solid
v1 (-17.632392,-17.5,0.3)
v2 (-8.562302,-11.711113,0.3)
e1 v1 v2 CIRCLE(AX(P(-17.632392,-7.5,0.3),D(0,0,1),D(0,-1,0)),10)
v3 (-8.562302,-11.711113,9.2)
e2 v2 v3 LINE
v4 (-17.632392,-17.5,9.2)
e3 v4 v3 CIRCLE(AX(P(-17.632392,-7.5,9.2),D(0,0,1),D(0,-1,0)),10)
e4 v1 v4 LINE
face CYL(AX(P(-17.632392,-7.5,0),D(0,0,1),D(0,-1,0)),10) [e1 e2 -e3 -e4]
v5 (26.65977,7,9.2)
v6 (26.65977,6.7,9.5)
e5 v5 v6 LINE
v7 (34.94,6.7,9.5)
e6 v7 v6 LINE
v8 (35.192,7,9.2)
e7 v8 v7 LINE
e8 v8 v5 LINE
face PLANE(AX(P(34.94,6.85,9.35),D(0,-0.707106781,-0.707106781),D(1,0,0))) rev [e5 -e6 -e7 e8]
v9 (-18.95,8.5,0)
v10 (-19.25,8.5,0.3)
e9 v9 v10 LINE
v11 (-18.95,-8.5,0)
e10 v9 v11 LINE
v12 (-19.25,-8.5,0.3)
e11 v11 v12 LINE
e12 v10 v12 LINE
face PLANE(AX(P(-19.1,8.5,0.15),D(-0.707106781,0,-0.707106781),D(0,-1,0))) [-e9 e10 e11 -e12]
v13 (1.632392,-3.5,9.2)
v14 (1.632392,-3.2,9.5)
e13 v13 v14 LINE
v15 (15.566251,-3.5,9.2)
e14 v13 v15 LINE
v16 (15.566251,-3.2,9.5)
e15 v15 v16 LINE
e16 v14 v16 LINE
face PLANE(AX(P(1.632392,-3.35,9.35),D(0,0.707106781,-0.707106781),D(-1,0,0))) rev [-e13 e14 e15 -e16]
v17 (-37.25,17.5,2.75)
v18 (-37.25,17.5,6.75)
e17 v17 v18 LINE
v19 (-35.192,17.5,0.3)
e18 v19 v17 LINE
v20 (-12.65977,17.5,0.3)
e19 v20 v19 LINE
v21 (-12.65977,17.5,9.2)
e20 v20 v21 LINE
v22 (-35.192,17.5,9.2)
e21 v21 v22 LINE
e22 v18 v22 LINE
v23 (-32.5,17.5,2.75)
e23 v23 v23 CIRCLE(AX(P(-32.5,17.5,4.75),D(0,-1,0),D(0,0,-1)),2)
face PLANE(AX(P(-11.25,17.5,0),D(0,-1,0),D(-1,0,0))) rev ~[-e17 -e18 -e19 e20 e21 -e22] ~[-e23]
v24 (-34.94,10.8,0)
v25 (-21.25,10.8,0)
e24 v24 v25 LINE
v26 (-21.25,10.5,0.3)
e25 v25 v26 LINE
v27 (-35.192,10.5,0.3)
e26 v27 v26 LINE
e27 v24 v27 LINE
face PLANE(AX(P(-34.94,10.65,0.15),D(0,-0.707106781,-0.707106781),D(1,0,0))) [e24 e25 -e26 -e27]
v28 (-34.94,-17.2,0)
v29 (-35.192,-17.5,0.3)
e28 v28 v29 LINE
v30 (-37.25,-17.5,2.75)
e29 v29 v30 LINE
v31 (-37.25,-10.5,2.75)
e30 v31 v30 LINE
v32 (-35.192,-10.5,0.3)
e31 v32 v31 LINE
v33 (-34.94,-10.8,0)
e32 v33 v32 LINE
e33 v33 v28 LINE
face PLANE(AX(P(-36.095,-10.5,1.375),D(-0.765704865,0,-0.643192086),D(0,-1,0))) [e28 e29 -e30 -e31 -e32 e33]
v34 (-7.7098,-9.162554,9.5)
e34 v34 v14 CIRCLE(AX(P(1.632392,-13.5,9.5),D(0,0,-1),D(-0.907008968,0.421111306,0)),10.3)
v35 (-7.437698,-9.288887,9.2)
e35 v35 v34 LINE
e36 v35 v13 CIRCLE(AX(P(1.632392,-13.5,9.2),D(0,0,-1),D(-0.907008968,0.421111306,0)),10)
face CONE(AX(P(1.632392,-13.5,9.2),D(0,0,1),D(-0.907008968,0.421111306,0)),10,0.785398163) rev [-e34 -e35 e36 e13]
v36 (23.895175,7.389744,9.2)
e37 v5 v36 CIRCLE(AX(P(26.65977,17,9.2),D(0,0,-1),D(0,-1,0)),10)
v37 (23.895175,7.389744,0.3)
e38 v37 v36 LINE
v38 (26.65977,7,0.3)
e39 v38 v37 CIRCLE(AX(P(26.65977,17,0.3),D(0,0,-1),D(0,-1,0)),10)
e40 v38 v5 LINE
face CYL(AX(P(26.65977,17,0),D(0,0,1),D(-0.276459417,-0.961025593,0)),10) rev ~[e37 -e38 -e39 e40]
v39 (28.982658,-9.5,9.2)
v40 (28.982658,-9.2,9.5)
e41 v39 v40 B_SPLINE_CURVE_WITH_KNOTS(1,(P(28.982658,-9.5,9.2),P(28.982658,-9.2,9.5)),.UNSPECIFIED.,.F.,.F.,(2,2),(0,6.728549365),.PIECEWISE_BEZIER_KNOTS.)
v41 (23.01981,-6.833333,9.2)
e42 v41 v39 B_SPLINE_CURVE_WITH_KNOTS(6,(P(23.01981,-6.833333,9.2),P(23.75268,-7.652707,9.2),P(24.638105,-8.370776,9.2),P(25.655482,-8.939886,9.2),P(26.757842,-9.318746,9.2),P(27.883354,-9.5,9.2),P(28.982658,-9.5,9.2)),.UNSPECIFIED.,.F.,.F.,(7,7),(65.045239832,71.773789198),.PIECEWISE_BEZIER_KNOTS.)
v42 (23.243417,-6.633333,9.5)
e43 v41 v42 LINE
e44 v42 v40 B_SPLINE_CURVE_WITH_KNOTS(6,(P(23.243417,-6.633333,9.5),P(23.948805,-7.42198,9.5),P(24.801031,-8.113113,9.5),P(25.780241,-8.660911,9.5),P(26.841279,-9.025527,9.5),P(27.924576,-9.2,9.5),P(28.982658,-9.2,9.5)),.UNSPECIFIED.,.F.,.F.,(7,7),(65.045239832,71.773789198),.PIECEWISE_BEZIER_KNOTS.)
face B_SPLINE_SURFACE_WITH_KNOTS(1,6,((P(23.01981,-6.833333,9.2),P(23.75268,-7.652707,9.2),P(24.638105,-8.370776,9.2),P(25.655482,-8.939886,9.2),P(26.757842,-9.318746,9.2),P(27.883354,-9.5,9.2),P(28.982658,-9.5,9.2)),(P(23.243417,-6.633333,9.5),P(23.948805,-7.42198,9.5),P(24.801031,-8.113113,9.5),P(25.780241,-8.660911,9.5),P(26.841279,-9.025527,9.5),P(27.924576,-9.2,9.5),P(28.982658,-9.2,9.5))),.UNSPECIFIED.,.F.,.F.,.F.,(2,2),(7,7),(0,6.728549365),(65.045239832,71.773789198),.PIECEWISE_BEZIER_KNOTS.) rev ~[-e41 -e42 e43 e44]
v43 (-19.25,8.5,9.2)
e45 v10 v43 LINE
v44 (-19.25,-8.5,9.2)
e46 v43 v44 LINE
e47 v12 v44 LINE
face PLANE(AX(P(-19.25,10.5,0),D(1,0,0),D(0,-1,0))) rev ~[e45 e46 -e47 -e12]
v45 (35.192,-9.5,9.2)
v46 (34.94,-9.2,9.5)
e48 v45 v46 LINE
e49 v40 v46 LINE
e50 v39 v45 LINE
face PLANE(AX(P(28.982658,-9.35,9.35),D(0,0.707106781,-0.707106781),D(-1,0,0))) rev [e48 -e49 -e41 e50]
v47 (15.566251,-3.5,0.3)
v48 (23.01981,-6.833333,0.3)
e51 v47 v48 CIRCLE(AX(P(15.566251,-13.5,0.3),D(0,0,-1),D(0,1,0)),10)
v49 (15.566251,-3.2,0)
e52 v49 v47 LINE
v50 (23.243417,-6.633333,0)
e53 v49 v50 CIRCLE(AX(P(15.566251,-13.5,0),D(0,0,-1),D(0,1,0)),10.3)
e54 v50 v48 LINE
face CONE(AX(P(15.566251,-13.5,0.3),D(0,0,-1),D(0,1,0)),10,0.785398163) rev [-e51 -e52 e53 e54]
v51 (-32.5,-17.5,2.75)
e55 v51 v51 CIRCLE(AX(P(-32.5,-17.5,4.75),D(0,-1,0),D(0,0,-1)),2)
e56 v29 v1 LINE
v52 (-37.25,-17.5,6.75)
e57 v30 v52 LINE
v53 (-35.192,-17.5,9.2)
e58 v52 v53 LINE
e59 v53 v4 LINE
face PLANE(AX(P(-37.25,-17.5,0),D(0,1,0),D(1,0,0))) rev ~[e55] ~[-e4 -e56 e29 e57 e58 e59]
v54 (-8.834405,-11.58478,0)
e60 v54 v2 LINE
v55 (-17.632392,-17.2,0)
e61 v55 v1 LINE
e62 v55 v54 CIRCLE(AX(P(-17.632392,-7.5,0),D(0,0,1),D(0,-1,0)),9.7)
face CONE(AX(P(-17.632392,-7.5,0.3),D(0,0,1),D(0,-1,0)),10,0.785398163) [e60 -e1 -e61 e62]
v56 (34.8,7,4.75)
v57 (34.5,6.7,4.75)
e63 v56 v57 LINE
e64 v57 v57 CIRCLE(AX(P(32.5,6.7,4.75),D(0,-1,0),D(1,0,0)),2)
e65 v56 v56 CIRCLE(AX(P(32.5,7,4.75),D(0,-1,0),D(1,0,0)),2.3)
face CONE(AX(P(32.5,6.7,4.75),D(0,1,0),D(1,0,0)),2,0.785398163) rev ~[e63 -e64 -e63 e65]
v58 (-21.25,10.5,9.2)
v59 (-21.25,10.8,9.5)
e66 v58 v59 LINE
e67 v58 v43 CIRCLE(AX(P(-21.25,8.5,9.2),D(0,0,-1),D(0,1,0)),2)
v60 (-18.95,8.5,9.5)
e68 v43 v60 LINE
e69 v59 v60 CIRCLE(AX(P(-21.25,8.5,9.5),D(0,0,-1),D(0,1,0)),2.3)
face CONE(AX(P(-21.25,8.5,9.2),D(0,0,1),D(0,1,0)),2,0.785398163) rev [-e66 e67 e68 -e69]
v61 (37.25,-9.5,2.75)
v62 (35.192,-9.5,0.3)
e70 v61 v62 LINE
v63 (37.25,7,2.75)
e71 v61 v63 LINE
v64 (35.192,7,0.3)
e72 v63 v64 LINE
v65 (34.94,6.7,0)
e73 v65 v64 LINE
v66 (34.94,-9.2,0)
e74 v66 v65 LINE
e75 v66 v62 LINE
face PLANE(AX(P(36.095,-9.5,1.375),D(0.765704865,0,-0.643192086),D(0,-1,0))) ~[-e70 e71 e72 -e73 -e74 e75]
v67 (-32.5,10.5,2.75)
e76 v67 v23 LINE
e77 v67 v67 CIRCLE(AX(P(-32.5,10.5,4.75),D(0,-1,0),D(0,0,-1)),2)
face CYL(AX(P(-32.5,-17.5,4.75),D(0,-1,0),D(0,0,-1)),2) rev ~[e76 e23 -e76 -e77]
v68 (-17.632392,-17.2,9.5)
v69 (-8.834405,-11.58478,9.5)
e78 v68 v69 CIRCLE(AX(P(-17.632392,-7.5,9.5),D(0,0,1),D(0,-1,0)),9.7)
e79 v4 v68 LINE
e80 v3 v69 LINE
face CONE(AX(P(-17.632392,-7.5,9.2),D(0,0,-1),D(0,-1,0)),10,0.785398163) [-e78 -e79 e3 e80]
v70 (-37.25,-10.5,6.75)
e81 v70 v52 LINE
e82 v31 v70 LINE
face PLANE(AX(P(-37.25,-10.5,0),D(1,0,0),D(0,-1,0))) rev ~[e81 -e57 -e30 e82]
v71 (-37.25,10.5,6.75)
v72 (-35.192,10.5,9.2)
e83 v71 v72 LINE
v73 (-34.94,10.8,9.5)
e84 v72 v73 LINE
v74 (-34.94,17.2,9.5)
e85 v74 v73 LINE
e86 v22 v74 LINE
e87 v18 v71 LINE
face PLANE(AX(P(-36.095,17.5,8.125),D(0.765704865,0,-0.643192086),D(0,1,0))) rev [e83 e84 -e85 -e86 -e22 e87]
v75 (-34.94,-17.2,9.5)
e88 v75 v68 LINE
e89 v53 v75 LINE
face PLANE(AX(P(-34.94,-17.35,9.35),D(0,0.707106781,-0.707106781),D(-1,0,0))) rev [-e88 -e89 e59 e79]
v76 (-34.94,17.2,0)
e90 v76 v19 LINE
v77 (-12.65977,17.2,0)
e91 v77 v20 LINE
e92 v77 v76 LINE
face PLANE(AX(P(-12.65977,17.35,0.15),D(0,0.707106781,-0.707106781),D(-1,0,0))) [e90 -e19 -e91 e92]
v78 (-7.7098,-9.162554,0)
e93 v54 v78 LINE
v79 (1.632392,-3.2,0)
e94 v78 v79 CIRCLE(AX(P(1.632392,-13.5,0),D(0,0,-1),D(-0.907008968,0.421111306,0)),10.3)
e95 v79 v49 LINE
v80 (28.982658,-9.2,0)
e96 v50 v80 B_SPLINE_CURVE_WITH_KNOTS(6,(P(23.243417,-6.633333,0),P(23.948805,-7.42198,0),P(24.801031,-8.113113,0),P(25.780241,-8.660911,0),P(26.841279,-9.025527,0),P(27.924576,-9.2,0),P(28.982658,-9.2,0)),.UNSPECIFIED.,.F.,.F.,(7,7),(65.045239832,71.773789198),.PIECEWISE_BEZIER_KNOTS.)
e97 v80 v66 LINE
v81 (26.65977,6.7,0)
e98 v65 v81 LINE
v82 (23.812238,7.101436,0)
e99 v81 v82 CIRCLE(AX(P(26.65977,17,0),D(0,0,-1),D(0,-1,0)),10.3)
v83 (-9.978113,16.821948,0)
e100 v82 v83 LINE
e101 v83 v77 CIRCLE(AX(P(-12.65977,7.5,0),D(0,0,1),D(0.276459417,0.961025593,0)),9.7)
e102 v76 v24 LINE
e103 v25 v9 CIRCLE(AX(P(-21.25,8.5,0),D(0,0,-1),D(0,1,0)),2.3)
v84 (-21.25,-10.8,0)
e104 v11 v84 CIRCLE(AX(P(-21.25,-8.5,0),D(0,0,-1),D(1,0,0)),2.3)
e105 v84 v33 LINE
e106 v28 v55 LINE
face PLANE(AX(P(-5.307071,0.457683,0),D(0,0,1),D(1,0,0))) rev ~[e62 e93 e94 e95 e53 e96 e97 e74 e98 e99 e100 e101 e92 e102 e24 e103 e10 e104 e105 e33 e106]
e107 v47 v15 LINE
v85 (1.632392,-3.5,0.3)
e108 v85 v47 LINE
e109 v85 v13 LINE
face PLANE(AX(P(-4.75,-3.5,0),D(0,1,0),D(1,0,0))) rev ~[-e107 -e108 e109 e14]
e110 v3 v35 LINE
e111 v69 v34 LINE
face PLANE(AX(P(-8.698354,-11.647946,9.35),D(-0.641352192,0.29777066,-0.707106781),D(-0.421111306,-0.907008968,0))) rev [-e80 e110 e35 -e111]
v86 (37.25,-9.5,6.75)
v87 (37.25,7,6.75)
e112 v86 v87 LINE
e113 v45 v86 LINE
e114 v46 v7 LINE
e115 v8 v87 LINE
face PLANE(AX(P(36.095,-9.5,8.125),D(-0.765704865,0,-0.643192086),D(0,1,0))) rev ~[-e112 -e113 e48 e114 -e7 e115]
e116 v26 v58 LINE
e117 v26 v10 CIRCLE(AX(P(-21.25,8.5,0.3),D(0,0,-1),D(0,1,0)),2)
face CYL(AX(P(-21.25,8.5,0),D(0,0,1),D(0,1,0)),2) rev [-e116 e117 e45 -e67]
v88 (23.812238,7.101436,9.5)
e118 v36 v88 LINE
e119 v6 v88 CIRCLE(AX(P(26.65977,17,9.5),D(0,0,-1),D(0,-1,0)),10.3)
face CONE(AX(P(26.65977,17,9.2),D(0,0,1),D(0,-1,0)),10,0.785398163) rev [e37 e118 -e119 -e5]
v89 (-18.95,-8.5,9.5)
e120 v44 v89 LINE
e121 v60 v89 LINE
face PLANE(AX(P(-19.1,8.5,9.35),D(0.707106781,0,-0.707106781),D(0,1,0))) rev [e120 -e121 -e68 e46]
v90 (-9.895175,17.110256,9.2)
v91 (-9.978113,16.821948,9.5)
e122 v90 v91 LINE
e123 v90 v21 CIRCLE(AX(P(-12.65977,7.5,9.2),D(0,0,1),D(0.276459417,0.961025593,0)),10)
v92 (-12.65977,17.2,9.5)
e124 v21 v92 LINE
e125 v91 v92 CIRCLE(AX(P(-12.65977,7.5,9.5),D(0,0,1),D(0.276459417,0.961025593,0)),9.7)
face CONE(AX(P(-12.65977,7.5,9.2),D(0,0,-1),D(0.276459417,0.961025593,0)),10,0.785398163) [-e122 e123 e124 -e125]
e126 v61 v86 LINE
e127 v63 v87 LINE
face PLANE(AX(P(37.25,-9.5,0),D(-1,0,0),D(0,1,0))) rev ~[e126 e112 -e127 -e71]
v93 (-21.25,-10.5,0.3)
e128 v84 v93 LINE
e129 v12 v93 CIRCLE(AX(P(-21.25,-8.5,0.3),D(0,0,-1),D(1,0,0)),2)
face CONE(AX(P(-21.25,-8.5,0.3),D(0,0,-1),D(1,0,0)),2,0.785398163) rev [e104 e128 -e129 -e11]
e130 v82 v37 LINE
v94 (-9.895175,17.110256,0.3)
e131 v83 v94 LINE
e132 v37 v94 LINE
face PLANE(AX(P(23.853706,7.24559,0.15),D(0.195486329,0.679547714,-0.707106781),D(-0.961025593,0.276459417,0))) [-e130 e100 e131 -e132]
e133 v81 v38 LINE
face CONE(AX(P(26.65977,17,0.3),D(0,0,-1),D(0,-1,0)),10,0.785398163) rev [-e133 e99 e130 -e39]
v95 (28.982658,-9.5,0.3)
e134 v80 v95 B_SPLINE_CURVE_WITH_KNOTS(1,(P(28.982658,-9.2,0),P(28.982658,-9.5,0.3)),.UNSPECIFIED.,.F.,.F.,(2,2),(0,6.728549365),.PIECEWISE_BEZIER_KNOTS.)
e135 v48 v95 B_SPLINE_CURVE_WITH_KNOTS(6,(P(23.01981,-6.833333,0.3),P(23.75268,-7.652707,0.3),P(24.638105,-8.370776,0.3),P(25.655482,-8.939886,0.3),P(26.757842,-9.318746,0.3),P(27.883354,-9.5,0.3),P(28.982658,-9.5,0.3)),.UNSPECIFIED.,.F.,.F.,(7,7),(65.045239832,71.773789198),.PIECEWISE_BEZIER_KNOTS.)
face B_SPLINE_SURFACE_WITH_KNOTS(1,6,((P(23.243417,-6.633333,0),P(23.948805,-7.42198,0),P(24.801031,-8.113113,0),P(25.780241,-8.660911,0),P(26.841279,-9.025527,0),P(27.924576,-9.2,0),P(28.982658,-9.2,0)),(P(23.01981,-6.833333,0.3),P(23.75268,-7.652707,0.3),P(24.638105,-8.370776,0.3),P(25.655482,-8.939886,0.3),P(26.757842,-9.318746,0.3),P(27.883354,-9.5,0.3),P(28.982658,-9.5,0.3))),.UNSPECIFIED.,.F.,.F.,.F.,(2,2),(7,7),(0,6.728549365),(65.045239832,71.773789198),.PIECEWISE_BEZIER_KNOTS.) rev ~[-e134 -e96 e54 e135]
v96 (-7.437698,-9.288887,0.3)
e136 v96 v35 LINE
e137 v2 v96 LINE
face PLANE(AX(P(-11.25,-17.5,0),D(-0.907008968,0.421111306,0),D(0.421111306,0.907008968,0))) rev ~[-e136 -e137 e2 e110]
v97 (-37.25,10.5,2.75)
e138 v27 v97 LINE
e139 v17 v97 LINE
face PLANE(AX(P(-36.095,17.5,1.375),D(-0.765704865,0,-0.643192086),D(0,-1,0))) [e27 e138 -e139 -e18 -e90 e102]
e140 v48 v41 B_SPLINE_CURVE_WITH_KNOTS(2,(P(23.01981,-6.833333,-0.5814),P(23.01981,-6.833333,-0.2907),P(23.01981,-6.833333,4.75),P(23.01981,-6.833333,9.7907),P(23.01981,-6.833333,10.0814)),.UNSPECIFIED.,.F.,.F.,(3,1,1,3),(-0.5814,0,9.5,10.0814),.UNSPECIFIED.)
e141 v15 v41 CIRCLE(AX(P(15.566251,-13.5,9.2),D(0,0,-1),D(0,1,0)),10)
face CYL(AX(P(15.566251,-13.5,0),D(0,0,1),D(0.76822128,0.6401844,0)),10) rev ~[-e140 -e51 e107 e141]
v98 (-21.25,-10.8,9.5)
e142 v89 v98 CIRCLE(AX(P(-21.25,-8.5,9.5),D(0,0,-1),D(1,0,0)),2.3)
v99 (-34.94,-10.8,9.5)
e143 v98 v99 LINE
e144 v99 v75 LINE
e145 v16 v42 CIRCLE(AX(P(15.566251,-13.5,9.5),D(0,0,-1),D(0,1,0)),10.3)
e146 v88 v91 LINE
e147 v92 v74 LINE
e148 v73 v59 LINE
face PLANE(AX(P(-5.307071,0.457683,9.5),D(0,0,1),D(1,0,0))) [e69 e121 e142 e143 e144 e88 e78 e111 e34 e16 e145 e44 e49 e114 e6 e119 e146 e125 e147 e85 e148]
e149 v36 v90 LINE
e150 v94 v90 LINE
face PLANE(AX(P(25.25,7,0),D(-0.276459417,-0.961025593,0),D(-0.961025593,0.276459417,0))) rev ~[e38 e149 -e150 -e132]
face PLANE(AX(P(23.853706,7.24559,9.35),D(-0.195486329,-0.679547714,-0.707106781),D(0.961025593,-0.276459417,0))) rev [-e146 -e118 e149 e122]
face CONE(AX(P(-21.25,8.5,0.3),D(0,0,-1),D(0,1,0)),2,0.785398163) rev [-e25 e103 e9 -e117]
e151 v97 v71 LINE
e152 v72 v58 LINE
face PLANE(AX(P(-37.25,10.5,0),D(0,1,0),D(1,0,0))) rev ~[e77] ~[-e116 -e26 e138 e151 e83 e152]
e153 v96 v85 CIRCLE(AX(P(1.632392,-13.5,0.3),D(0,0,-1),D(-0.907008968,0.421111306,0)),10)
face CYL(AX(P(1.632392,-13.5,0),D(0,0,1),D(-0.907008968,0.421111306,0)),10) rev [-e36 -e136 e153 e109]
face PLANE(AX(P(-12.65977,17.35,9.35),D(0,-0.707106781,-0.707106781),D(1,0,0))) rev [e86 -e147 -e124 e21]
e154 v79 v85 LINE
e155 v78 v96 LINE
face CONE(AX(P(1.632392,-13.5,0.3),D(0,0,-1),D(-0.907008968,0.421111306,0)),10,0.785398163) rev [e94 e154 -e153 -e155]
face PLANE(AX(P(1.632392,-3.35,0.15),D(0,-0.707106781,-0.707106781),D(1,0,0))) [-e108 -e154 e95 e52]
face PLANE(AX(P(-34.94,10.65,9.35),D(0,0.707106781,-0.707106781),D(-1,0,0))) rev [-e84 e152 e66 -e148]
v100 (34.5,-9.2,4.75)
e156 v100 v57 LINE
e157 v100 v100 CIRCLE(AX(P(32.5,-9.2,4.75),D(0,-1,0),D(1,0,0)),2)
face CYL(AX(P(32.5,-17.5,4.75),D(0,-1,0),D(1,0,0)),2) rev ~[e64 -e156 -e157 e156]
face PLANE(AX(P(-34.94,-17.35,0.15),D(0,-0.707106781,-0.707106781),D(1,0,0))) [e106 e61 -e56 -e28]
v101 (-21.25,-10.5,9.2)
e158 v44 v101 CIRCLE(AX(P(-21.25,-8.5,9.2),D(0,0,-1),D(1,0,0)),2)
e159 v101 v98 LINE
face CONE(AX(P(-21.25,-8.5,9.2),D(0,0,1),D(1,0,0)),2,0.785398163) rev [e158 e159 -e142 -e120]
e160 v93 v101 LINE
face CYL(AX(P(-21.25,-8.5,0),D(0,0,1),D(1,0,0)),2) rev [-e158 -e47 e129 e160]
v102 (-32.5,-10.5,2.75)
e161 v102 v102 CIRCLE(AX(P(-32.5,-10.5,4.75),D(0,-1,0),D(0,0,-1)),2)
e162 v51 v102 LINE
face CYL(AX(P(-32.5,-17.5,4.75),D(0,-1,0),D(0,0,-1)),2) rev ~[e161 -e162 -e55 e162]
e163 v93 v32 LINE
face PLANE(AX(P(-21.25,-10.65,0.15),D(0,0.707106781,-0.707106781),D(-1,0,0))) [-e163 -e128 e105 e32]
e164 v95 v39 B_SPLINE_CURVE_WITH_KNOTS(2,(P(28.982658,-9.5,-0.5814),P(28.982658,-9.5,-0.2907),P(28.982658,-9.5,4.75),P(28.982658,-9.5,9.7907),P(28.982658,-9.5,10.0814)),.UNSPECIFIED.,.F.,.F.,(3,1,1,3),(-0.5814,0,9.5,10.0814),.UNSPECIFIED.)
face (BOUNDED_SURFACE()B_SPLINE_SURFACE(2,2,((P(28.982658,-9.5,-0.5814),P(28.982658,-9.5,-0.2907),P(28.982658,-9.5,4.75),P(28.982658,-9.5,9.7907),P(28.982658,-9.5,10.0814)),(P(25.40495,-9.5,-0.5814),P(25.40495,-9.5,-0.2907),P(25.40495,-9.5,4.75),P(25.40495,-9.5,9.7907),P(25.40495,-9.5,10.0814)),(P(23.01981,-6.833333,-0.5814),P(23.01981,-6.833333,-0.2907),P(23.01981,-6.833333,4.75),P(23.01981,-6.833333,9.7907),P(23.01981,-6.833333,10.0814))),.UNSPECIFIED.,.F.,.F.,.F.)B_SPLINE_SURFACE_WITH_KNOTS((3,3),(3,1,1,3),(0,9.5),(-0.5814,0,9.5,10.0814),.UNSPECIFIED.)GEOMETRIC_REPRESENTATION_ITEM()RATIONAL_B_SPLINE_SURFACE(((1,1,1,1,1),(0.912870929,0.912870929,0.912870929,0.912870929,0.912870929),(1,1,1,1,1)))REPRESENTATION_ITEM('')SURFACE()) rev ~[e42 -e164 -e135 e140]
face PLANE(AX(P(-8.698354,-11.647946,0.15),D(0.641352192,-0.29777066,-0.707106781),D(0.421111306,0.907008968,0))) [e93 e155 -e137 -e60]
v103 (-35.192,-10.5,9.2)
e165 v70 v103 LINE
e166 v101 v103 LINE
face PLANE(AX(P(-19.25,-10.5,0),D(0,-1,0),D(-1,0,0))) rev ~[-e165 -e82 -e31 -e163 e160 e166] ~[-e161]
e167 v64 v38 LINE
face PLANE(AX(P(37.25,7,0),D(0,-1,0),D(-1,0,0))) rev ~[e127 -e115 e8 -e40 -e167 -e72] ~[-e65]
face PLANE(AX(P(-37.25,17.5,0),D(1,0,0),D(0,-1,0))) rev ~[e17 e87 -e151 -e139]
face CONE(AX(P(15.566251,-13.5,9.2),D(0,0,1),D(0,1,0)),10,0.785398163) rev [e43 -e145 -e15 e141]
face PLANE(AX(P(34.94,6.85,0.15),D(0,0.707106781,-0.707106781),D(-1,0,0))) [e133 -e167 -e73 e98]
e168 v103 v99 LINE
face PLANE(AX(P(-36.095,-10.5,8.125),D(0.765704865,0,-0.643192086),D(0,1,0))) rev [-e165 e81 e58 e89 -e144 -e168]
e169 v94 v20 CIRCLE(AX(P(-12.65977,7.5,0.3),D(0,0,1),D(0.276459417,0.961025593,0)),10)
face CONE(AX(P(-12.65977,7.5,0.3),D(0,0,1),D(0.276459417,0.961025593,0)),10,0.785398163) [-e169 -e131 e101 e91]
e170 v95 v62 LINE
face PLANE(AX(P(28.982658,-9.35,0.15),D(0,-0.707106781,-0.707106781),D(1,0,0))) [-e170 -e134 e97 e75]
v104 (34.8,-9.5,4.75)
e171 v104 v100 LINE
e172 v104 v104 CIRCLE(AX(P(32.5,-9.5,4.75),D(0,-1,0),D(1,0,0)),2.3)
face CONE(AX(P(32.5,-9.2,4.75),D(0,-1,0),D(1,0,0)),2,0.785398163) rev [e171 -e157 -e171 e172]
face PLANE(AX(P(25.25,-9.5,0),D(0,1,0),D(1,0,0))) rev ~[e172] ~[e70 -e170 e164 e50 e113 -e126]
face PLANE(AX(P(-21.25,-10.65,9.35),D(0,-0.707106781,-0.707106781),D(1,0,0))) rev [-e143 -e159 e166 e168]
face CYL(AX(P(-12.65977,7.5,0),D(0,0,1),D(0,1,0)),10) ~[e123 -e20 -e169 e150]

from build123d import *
from OCP.BRepFilletAPI import BRepFilletAPI_MakeChamfer

# Parameters (mm, degrees)
BOSS_EXTRUDE1_DEPTH = 9.5
SKETCH2_R           = 2
CUT_EXTRUDE1_DEPTH  = 44
CHAMFER3_SIZE       = 2.31
CHAMFER3_SIZE2      = 2.75
CHAMFER4_SIZE       = 2.75
CHAMFER4_SIZE2      = 2.31
FILLET2_R           = 2
FILLET3_R           = 10
FILLET4_R           = 8
CHAMFER5_SIZE       = 0.3


with BuildPart() as part:
    # Sketch1 → Boss-Extrude1 (new body)
    with BuildSketch(Plane.XY):
        Polygon((25.25, -9.5), (37.25, -9.5), (37.25, 7), (25.25, 7), (-11.25, 17.5), (-37.25, 17.5), (-37.25, 10.5), (-19.25, 10.5), (-19.25, -10.5), (-37.25, -10.5), (-37.25, -17.5), (-11.25, -17.5), (-4.75, -3.5), (20.25, -3.5), align=None)
    extrude(amount=BOSS_EXTRUDE1_DEPTH)

    # Sketch2 → Cut-Extrude1 (cut)
    with BuildSketch(Plane.XZ.offset(17.5)):
        with Locations((-32.5, 4.75)):
            Circle(SKETCH2_R)
        with Locations((32.5, 4.75)):
            Circle(SKETCH2_R)
    extrude(amount=-CUT_EXTRUDE1_DEPTH, mode=Mode.SUBTRACT)

    # Chamfer3: one chamfer whose edges measure the first distance from different faces: ONE call of the kernel's chamfer builder (chamfer() names one face for all edges)
    chamfer3_edges_1 = [part.edges().sort_by_distance(p)[0] for p in [
        (-37.25, 14, 0),
        (-37.25, -14, 0),
    ]]
    chamfer3_side_1 = [part.faces().sort_by_distance(p)[0] for p in [
        (-1.759689035, 1.451005524, 0),
    ]]
    chamfer3_edges_2 = [part.edges().sort_by_distance(p)[0] for p in [
        (37.25, -1.25, 9.5),
    ]]
    chamfer3_side_2 = [part.faces().sort_by_distance(p)[0] for p in [
        (-1.759689035, 1.451005524, 9.5),
    ]]
    chamfer3 = BRepFilletAPI_MakeChamfer(part.part.solid().wrapped)
    for e in chamfer3_edges_1:
        chamfer3.Add(CHAMFER3_SIZE, CHAMFER3_SIZE2, e.wrapped, chamfer3_side_1[0].wrapped)  # the first distance lies on this face
    for e in chamfer3_edges_2:
        chamfer3.Add(CHAMFER3_SIZE, CHAMFER3_SIZE2, e.wrapped, chamfer3_side_2[0].wrapped)  # the first distance lies on this face
    add(Compound.cast(chamfer3.Shape()), mode=Mode.REPLACE)

    # Chamfer4: one chamfer whose edges measure the first distance from different faces: ONE call of the kernel's chamfer builder (chamfer() names one face for all edges)
    chamfer4_edges_1 = [part.edges().sort_by_distance(p)[0] for p in [
        (37.25, -1.25, 0),
    ]]
    chamfer4_side_1 = [part.faces().sort_by_distance(p)[0] for p in [
        (37.25, -1.25, 3.375),
    ]]
    chamfer4_edges_2 = [part.edges().sort_by_distance(p)[0] for p in [
        (-37.25, -14, 9.5),
    ]]
    chamfer4_side_2 = [part.faces().sort_by_distance(p)[0] for p in [
        (-37.25, -14, 6.125),
    ]]
    chamfer4_edges_3 = [part.edges().sort_by_distance(p)[0] for p in [
        (-37.25, 14, 9.5),
    ]]
    chamfer4_side_3 = [part.faces().sort_by_distance(p)[0] for p in [
        (-37.25, 14, 6.125),
    ]]
    chamfer4 = BRepFilletAPI_MakeChamfer(part.part.solid().wrapped)
    for e in chamfer4_edges_1:
        chamfer4.Add(CHAMFER4_SIZE, CHAMFER4_SIZE2, e.wrapped, chamfer4_side_1[0].wrapped)  # the first distance lies on this face
    for e in chamfer4_edges_2:
        chamfer4.Add(CHAMFER4_SIZE, CHAMFER4_SIZE2, e.wrapped, chamfer4_side_2[0].wrapped)  # the first distance lies on this face
    for e in chamfer4_edges_3:
        chamfer4.Add(CHAMFER4_SIZE, CHAMFER4_SIZE2, e.wrapped, chamfer4_side_3[0].wrapped)  # the first distance lies on this face
    add(Compound.cast(chamfer4.Shape()), mode=Mode.REPLACE)

    # Fillet2
    fillet2_edges = [part.edges().sort_by_distance(p)[0] for p in [
        (-19.25, -10.5, 4.75),
        (-19.25, 10.5, 4.75),
    ]]
    fillet(fillet2_edges, radius=FILLET2_R)

    # Fillet3
    fillet3_edges = [part.edges().sort_by_distance(p)[0] for p in [
        (-11.25, -17.5, 4.75),
        (-4.75, -3.5, 4.75),
        (20.25, -3.5, 4.75),
        (25.25, 7, 4.75),
        (-11.25, 17.5, 4.75),
    ]]
    fillet(fillet3_edges, radius=FILLET3_R)

    # Fillet4
    fillet4_edges = [part.edges().sort_by_distance(p)[0] for p in [
        (25.25, -9.5, 4.75),
    ]]
    fillet(fillet4_edges, radius=FILLET4_R)

    # Chamfer5
    chamfer5_edges = [part.edges().sort_by_distance(p)[0] for p in [
        (30.5, 7, 4.75),
        (30.5, -9.5, 4.75),
        (-28.095, 10.5, 0),
        (-28.095, -10.5, 0),
        (-19.835786438, 9.914213562, 0),
        (-19.835786438, -9.914213562, 0),
        (-19.25, 0, 0),
        (-28.095, 10.5, 9.5),
        (-28.095, -10.5, 9.5),
        (-19.835786438, 9.914213562, 9.5),
        (-19.835786438, -9.914213562, 9.5),
        (-19.25, 0, 9.5),
        (-23.799884776, 17.5, 0),
        (30.799884776, 7, 0),
        (-11.263803813, 17.402084612, 0),
        (25.263803813, 7.097915388, 0),
        (7, 12.25, 0),
        (-23.799884776, 17.5, 9.5),
        (30.799884776, 7, 9.5),
        (-11.263803813, 17.402084612, 9.5),
        (25.263803813, 7.097915388, 9.5),
        (7, 12.25, 9.5),
        (-26.286196086, -17.5, 0),
        (31.961329203, -9.5, 0),
        (-12.252388949, -15.929446324, 0),
        (25.716672081, -8.802967433, 0),
        (-8, -10.5, 0),
        (19.648733445, -4.371290708, 0),
        (-3.747611051, -5.070553676, 0),
        (8.599321356, -3.5, 0),
        (-26.286196086, -17.5, 9.5),
        (31.961329203, -9.5, 9.5),
        (-12.252388949, -15.929446324, 9.5),
        (25.716672081, -8.802967433, 9.5),
        (-8, -10.5, 9.5),
        (19.648733445, -4.371290708, 9.5),
        (-3.747611051, -5.070553676, 9.5),
        (8.599321356, -3.5, 9.5),
    ]]
    chamfer(chamfer5_edges, length=CHAMFER5_SIZE)


solid = part.part
